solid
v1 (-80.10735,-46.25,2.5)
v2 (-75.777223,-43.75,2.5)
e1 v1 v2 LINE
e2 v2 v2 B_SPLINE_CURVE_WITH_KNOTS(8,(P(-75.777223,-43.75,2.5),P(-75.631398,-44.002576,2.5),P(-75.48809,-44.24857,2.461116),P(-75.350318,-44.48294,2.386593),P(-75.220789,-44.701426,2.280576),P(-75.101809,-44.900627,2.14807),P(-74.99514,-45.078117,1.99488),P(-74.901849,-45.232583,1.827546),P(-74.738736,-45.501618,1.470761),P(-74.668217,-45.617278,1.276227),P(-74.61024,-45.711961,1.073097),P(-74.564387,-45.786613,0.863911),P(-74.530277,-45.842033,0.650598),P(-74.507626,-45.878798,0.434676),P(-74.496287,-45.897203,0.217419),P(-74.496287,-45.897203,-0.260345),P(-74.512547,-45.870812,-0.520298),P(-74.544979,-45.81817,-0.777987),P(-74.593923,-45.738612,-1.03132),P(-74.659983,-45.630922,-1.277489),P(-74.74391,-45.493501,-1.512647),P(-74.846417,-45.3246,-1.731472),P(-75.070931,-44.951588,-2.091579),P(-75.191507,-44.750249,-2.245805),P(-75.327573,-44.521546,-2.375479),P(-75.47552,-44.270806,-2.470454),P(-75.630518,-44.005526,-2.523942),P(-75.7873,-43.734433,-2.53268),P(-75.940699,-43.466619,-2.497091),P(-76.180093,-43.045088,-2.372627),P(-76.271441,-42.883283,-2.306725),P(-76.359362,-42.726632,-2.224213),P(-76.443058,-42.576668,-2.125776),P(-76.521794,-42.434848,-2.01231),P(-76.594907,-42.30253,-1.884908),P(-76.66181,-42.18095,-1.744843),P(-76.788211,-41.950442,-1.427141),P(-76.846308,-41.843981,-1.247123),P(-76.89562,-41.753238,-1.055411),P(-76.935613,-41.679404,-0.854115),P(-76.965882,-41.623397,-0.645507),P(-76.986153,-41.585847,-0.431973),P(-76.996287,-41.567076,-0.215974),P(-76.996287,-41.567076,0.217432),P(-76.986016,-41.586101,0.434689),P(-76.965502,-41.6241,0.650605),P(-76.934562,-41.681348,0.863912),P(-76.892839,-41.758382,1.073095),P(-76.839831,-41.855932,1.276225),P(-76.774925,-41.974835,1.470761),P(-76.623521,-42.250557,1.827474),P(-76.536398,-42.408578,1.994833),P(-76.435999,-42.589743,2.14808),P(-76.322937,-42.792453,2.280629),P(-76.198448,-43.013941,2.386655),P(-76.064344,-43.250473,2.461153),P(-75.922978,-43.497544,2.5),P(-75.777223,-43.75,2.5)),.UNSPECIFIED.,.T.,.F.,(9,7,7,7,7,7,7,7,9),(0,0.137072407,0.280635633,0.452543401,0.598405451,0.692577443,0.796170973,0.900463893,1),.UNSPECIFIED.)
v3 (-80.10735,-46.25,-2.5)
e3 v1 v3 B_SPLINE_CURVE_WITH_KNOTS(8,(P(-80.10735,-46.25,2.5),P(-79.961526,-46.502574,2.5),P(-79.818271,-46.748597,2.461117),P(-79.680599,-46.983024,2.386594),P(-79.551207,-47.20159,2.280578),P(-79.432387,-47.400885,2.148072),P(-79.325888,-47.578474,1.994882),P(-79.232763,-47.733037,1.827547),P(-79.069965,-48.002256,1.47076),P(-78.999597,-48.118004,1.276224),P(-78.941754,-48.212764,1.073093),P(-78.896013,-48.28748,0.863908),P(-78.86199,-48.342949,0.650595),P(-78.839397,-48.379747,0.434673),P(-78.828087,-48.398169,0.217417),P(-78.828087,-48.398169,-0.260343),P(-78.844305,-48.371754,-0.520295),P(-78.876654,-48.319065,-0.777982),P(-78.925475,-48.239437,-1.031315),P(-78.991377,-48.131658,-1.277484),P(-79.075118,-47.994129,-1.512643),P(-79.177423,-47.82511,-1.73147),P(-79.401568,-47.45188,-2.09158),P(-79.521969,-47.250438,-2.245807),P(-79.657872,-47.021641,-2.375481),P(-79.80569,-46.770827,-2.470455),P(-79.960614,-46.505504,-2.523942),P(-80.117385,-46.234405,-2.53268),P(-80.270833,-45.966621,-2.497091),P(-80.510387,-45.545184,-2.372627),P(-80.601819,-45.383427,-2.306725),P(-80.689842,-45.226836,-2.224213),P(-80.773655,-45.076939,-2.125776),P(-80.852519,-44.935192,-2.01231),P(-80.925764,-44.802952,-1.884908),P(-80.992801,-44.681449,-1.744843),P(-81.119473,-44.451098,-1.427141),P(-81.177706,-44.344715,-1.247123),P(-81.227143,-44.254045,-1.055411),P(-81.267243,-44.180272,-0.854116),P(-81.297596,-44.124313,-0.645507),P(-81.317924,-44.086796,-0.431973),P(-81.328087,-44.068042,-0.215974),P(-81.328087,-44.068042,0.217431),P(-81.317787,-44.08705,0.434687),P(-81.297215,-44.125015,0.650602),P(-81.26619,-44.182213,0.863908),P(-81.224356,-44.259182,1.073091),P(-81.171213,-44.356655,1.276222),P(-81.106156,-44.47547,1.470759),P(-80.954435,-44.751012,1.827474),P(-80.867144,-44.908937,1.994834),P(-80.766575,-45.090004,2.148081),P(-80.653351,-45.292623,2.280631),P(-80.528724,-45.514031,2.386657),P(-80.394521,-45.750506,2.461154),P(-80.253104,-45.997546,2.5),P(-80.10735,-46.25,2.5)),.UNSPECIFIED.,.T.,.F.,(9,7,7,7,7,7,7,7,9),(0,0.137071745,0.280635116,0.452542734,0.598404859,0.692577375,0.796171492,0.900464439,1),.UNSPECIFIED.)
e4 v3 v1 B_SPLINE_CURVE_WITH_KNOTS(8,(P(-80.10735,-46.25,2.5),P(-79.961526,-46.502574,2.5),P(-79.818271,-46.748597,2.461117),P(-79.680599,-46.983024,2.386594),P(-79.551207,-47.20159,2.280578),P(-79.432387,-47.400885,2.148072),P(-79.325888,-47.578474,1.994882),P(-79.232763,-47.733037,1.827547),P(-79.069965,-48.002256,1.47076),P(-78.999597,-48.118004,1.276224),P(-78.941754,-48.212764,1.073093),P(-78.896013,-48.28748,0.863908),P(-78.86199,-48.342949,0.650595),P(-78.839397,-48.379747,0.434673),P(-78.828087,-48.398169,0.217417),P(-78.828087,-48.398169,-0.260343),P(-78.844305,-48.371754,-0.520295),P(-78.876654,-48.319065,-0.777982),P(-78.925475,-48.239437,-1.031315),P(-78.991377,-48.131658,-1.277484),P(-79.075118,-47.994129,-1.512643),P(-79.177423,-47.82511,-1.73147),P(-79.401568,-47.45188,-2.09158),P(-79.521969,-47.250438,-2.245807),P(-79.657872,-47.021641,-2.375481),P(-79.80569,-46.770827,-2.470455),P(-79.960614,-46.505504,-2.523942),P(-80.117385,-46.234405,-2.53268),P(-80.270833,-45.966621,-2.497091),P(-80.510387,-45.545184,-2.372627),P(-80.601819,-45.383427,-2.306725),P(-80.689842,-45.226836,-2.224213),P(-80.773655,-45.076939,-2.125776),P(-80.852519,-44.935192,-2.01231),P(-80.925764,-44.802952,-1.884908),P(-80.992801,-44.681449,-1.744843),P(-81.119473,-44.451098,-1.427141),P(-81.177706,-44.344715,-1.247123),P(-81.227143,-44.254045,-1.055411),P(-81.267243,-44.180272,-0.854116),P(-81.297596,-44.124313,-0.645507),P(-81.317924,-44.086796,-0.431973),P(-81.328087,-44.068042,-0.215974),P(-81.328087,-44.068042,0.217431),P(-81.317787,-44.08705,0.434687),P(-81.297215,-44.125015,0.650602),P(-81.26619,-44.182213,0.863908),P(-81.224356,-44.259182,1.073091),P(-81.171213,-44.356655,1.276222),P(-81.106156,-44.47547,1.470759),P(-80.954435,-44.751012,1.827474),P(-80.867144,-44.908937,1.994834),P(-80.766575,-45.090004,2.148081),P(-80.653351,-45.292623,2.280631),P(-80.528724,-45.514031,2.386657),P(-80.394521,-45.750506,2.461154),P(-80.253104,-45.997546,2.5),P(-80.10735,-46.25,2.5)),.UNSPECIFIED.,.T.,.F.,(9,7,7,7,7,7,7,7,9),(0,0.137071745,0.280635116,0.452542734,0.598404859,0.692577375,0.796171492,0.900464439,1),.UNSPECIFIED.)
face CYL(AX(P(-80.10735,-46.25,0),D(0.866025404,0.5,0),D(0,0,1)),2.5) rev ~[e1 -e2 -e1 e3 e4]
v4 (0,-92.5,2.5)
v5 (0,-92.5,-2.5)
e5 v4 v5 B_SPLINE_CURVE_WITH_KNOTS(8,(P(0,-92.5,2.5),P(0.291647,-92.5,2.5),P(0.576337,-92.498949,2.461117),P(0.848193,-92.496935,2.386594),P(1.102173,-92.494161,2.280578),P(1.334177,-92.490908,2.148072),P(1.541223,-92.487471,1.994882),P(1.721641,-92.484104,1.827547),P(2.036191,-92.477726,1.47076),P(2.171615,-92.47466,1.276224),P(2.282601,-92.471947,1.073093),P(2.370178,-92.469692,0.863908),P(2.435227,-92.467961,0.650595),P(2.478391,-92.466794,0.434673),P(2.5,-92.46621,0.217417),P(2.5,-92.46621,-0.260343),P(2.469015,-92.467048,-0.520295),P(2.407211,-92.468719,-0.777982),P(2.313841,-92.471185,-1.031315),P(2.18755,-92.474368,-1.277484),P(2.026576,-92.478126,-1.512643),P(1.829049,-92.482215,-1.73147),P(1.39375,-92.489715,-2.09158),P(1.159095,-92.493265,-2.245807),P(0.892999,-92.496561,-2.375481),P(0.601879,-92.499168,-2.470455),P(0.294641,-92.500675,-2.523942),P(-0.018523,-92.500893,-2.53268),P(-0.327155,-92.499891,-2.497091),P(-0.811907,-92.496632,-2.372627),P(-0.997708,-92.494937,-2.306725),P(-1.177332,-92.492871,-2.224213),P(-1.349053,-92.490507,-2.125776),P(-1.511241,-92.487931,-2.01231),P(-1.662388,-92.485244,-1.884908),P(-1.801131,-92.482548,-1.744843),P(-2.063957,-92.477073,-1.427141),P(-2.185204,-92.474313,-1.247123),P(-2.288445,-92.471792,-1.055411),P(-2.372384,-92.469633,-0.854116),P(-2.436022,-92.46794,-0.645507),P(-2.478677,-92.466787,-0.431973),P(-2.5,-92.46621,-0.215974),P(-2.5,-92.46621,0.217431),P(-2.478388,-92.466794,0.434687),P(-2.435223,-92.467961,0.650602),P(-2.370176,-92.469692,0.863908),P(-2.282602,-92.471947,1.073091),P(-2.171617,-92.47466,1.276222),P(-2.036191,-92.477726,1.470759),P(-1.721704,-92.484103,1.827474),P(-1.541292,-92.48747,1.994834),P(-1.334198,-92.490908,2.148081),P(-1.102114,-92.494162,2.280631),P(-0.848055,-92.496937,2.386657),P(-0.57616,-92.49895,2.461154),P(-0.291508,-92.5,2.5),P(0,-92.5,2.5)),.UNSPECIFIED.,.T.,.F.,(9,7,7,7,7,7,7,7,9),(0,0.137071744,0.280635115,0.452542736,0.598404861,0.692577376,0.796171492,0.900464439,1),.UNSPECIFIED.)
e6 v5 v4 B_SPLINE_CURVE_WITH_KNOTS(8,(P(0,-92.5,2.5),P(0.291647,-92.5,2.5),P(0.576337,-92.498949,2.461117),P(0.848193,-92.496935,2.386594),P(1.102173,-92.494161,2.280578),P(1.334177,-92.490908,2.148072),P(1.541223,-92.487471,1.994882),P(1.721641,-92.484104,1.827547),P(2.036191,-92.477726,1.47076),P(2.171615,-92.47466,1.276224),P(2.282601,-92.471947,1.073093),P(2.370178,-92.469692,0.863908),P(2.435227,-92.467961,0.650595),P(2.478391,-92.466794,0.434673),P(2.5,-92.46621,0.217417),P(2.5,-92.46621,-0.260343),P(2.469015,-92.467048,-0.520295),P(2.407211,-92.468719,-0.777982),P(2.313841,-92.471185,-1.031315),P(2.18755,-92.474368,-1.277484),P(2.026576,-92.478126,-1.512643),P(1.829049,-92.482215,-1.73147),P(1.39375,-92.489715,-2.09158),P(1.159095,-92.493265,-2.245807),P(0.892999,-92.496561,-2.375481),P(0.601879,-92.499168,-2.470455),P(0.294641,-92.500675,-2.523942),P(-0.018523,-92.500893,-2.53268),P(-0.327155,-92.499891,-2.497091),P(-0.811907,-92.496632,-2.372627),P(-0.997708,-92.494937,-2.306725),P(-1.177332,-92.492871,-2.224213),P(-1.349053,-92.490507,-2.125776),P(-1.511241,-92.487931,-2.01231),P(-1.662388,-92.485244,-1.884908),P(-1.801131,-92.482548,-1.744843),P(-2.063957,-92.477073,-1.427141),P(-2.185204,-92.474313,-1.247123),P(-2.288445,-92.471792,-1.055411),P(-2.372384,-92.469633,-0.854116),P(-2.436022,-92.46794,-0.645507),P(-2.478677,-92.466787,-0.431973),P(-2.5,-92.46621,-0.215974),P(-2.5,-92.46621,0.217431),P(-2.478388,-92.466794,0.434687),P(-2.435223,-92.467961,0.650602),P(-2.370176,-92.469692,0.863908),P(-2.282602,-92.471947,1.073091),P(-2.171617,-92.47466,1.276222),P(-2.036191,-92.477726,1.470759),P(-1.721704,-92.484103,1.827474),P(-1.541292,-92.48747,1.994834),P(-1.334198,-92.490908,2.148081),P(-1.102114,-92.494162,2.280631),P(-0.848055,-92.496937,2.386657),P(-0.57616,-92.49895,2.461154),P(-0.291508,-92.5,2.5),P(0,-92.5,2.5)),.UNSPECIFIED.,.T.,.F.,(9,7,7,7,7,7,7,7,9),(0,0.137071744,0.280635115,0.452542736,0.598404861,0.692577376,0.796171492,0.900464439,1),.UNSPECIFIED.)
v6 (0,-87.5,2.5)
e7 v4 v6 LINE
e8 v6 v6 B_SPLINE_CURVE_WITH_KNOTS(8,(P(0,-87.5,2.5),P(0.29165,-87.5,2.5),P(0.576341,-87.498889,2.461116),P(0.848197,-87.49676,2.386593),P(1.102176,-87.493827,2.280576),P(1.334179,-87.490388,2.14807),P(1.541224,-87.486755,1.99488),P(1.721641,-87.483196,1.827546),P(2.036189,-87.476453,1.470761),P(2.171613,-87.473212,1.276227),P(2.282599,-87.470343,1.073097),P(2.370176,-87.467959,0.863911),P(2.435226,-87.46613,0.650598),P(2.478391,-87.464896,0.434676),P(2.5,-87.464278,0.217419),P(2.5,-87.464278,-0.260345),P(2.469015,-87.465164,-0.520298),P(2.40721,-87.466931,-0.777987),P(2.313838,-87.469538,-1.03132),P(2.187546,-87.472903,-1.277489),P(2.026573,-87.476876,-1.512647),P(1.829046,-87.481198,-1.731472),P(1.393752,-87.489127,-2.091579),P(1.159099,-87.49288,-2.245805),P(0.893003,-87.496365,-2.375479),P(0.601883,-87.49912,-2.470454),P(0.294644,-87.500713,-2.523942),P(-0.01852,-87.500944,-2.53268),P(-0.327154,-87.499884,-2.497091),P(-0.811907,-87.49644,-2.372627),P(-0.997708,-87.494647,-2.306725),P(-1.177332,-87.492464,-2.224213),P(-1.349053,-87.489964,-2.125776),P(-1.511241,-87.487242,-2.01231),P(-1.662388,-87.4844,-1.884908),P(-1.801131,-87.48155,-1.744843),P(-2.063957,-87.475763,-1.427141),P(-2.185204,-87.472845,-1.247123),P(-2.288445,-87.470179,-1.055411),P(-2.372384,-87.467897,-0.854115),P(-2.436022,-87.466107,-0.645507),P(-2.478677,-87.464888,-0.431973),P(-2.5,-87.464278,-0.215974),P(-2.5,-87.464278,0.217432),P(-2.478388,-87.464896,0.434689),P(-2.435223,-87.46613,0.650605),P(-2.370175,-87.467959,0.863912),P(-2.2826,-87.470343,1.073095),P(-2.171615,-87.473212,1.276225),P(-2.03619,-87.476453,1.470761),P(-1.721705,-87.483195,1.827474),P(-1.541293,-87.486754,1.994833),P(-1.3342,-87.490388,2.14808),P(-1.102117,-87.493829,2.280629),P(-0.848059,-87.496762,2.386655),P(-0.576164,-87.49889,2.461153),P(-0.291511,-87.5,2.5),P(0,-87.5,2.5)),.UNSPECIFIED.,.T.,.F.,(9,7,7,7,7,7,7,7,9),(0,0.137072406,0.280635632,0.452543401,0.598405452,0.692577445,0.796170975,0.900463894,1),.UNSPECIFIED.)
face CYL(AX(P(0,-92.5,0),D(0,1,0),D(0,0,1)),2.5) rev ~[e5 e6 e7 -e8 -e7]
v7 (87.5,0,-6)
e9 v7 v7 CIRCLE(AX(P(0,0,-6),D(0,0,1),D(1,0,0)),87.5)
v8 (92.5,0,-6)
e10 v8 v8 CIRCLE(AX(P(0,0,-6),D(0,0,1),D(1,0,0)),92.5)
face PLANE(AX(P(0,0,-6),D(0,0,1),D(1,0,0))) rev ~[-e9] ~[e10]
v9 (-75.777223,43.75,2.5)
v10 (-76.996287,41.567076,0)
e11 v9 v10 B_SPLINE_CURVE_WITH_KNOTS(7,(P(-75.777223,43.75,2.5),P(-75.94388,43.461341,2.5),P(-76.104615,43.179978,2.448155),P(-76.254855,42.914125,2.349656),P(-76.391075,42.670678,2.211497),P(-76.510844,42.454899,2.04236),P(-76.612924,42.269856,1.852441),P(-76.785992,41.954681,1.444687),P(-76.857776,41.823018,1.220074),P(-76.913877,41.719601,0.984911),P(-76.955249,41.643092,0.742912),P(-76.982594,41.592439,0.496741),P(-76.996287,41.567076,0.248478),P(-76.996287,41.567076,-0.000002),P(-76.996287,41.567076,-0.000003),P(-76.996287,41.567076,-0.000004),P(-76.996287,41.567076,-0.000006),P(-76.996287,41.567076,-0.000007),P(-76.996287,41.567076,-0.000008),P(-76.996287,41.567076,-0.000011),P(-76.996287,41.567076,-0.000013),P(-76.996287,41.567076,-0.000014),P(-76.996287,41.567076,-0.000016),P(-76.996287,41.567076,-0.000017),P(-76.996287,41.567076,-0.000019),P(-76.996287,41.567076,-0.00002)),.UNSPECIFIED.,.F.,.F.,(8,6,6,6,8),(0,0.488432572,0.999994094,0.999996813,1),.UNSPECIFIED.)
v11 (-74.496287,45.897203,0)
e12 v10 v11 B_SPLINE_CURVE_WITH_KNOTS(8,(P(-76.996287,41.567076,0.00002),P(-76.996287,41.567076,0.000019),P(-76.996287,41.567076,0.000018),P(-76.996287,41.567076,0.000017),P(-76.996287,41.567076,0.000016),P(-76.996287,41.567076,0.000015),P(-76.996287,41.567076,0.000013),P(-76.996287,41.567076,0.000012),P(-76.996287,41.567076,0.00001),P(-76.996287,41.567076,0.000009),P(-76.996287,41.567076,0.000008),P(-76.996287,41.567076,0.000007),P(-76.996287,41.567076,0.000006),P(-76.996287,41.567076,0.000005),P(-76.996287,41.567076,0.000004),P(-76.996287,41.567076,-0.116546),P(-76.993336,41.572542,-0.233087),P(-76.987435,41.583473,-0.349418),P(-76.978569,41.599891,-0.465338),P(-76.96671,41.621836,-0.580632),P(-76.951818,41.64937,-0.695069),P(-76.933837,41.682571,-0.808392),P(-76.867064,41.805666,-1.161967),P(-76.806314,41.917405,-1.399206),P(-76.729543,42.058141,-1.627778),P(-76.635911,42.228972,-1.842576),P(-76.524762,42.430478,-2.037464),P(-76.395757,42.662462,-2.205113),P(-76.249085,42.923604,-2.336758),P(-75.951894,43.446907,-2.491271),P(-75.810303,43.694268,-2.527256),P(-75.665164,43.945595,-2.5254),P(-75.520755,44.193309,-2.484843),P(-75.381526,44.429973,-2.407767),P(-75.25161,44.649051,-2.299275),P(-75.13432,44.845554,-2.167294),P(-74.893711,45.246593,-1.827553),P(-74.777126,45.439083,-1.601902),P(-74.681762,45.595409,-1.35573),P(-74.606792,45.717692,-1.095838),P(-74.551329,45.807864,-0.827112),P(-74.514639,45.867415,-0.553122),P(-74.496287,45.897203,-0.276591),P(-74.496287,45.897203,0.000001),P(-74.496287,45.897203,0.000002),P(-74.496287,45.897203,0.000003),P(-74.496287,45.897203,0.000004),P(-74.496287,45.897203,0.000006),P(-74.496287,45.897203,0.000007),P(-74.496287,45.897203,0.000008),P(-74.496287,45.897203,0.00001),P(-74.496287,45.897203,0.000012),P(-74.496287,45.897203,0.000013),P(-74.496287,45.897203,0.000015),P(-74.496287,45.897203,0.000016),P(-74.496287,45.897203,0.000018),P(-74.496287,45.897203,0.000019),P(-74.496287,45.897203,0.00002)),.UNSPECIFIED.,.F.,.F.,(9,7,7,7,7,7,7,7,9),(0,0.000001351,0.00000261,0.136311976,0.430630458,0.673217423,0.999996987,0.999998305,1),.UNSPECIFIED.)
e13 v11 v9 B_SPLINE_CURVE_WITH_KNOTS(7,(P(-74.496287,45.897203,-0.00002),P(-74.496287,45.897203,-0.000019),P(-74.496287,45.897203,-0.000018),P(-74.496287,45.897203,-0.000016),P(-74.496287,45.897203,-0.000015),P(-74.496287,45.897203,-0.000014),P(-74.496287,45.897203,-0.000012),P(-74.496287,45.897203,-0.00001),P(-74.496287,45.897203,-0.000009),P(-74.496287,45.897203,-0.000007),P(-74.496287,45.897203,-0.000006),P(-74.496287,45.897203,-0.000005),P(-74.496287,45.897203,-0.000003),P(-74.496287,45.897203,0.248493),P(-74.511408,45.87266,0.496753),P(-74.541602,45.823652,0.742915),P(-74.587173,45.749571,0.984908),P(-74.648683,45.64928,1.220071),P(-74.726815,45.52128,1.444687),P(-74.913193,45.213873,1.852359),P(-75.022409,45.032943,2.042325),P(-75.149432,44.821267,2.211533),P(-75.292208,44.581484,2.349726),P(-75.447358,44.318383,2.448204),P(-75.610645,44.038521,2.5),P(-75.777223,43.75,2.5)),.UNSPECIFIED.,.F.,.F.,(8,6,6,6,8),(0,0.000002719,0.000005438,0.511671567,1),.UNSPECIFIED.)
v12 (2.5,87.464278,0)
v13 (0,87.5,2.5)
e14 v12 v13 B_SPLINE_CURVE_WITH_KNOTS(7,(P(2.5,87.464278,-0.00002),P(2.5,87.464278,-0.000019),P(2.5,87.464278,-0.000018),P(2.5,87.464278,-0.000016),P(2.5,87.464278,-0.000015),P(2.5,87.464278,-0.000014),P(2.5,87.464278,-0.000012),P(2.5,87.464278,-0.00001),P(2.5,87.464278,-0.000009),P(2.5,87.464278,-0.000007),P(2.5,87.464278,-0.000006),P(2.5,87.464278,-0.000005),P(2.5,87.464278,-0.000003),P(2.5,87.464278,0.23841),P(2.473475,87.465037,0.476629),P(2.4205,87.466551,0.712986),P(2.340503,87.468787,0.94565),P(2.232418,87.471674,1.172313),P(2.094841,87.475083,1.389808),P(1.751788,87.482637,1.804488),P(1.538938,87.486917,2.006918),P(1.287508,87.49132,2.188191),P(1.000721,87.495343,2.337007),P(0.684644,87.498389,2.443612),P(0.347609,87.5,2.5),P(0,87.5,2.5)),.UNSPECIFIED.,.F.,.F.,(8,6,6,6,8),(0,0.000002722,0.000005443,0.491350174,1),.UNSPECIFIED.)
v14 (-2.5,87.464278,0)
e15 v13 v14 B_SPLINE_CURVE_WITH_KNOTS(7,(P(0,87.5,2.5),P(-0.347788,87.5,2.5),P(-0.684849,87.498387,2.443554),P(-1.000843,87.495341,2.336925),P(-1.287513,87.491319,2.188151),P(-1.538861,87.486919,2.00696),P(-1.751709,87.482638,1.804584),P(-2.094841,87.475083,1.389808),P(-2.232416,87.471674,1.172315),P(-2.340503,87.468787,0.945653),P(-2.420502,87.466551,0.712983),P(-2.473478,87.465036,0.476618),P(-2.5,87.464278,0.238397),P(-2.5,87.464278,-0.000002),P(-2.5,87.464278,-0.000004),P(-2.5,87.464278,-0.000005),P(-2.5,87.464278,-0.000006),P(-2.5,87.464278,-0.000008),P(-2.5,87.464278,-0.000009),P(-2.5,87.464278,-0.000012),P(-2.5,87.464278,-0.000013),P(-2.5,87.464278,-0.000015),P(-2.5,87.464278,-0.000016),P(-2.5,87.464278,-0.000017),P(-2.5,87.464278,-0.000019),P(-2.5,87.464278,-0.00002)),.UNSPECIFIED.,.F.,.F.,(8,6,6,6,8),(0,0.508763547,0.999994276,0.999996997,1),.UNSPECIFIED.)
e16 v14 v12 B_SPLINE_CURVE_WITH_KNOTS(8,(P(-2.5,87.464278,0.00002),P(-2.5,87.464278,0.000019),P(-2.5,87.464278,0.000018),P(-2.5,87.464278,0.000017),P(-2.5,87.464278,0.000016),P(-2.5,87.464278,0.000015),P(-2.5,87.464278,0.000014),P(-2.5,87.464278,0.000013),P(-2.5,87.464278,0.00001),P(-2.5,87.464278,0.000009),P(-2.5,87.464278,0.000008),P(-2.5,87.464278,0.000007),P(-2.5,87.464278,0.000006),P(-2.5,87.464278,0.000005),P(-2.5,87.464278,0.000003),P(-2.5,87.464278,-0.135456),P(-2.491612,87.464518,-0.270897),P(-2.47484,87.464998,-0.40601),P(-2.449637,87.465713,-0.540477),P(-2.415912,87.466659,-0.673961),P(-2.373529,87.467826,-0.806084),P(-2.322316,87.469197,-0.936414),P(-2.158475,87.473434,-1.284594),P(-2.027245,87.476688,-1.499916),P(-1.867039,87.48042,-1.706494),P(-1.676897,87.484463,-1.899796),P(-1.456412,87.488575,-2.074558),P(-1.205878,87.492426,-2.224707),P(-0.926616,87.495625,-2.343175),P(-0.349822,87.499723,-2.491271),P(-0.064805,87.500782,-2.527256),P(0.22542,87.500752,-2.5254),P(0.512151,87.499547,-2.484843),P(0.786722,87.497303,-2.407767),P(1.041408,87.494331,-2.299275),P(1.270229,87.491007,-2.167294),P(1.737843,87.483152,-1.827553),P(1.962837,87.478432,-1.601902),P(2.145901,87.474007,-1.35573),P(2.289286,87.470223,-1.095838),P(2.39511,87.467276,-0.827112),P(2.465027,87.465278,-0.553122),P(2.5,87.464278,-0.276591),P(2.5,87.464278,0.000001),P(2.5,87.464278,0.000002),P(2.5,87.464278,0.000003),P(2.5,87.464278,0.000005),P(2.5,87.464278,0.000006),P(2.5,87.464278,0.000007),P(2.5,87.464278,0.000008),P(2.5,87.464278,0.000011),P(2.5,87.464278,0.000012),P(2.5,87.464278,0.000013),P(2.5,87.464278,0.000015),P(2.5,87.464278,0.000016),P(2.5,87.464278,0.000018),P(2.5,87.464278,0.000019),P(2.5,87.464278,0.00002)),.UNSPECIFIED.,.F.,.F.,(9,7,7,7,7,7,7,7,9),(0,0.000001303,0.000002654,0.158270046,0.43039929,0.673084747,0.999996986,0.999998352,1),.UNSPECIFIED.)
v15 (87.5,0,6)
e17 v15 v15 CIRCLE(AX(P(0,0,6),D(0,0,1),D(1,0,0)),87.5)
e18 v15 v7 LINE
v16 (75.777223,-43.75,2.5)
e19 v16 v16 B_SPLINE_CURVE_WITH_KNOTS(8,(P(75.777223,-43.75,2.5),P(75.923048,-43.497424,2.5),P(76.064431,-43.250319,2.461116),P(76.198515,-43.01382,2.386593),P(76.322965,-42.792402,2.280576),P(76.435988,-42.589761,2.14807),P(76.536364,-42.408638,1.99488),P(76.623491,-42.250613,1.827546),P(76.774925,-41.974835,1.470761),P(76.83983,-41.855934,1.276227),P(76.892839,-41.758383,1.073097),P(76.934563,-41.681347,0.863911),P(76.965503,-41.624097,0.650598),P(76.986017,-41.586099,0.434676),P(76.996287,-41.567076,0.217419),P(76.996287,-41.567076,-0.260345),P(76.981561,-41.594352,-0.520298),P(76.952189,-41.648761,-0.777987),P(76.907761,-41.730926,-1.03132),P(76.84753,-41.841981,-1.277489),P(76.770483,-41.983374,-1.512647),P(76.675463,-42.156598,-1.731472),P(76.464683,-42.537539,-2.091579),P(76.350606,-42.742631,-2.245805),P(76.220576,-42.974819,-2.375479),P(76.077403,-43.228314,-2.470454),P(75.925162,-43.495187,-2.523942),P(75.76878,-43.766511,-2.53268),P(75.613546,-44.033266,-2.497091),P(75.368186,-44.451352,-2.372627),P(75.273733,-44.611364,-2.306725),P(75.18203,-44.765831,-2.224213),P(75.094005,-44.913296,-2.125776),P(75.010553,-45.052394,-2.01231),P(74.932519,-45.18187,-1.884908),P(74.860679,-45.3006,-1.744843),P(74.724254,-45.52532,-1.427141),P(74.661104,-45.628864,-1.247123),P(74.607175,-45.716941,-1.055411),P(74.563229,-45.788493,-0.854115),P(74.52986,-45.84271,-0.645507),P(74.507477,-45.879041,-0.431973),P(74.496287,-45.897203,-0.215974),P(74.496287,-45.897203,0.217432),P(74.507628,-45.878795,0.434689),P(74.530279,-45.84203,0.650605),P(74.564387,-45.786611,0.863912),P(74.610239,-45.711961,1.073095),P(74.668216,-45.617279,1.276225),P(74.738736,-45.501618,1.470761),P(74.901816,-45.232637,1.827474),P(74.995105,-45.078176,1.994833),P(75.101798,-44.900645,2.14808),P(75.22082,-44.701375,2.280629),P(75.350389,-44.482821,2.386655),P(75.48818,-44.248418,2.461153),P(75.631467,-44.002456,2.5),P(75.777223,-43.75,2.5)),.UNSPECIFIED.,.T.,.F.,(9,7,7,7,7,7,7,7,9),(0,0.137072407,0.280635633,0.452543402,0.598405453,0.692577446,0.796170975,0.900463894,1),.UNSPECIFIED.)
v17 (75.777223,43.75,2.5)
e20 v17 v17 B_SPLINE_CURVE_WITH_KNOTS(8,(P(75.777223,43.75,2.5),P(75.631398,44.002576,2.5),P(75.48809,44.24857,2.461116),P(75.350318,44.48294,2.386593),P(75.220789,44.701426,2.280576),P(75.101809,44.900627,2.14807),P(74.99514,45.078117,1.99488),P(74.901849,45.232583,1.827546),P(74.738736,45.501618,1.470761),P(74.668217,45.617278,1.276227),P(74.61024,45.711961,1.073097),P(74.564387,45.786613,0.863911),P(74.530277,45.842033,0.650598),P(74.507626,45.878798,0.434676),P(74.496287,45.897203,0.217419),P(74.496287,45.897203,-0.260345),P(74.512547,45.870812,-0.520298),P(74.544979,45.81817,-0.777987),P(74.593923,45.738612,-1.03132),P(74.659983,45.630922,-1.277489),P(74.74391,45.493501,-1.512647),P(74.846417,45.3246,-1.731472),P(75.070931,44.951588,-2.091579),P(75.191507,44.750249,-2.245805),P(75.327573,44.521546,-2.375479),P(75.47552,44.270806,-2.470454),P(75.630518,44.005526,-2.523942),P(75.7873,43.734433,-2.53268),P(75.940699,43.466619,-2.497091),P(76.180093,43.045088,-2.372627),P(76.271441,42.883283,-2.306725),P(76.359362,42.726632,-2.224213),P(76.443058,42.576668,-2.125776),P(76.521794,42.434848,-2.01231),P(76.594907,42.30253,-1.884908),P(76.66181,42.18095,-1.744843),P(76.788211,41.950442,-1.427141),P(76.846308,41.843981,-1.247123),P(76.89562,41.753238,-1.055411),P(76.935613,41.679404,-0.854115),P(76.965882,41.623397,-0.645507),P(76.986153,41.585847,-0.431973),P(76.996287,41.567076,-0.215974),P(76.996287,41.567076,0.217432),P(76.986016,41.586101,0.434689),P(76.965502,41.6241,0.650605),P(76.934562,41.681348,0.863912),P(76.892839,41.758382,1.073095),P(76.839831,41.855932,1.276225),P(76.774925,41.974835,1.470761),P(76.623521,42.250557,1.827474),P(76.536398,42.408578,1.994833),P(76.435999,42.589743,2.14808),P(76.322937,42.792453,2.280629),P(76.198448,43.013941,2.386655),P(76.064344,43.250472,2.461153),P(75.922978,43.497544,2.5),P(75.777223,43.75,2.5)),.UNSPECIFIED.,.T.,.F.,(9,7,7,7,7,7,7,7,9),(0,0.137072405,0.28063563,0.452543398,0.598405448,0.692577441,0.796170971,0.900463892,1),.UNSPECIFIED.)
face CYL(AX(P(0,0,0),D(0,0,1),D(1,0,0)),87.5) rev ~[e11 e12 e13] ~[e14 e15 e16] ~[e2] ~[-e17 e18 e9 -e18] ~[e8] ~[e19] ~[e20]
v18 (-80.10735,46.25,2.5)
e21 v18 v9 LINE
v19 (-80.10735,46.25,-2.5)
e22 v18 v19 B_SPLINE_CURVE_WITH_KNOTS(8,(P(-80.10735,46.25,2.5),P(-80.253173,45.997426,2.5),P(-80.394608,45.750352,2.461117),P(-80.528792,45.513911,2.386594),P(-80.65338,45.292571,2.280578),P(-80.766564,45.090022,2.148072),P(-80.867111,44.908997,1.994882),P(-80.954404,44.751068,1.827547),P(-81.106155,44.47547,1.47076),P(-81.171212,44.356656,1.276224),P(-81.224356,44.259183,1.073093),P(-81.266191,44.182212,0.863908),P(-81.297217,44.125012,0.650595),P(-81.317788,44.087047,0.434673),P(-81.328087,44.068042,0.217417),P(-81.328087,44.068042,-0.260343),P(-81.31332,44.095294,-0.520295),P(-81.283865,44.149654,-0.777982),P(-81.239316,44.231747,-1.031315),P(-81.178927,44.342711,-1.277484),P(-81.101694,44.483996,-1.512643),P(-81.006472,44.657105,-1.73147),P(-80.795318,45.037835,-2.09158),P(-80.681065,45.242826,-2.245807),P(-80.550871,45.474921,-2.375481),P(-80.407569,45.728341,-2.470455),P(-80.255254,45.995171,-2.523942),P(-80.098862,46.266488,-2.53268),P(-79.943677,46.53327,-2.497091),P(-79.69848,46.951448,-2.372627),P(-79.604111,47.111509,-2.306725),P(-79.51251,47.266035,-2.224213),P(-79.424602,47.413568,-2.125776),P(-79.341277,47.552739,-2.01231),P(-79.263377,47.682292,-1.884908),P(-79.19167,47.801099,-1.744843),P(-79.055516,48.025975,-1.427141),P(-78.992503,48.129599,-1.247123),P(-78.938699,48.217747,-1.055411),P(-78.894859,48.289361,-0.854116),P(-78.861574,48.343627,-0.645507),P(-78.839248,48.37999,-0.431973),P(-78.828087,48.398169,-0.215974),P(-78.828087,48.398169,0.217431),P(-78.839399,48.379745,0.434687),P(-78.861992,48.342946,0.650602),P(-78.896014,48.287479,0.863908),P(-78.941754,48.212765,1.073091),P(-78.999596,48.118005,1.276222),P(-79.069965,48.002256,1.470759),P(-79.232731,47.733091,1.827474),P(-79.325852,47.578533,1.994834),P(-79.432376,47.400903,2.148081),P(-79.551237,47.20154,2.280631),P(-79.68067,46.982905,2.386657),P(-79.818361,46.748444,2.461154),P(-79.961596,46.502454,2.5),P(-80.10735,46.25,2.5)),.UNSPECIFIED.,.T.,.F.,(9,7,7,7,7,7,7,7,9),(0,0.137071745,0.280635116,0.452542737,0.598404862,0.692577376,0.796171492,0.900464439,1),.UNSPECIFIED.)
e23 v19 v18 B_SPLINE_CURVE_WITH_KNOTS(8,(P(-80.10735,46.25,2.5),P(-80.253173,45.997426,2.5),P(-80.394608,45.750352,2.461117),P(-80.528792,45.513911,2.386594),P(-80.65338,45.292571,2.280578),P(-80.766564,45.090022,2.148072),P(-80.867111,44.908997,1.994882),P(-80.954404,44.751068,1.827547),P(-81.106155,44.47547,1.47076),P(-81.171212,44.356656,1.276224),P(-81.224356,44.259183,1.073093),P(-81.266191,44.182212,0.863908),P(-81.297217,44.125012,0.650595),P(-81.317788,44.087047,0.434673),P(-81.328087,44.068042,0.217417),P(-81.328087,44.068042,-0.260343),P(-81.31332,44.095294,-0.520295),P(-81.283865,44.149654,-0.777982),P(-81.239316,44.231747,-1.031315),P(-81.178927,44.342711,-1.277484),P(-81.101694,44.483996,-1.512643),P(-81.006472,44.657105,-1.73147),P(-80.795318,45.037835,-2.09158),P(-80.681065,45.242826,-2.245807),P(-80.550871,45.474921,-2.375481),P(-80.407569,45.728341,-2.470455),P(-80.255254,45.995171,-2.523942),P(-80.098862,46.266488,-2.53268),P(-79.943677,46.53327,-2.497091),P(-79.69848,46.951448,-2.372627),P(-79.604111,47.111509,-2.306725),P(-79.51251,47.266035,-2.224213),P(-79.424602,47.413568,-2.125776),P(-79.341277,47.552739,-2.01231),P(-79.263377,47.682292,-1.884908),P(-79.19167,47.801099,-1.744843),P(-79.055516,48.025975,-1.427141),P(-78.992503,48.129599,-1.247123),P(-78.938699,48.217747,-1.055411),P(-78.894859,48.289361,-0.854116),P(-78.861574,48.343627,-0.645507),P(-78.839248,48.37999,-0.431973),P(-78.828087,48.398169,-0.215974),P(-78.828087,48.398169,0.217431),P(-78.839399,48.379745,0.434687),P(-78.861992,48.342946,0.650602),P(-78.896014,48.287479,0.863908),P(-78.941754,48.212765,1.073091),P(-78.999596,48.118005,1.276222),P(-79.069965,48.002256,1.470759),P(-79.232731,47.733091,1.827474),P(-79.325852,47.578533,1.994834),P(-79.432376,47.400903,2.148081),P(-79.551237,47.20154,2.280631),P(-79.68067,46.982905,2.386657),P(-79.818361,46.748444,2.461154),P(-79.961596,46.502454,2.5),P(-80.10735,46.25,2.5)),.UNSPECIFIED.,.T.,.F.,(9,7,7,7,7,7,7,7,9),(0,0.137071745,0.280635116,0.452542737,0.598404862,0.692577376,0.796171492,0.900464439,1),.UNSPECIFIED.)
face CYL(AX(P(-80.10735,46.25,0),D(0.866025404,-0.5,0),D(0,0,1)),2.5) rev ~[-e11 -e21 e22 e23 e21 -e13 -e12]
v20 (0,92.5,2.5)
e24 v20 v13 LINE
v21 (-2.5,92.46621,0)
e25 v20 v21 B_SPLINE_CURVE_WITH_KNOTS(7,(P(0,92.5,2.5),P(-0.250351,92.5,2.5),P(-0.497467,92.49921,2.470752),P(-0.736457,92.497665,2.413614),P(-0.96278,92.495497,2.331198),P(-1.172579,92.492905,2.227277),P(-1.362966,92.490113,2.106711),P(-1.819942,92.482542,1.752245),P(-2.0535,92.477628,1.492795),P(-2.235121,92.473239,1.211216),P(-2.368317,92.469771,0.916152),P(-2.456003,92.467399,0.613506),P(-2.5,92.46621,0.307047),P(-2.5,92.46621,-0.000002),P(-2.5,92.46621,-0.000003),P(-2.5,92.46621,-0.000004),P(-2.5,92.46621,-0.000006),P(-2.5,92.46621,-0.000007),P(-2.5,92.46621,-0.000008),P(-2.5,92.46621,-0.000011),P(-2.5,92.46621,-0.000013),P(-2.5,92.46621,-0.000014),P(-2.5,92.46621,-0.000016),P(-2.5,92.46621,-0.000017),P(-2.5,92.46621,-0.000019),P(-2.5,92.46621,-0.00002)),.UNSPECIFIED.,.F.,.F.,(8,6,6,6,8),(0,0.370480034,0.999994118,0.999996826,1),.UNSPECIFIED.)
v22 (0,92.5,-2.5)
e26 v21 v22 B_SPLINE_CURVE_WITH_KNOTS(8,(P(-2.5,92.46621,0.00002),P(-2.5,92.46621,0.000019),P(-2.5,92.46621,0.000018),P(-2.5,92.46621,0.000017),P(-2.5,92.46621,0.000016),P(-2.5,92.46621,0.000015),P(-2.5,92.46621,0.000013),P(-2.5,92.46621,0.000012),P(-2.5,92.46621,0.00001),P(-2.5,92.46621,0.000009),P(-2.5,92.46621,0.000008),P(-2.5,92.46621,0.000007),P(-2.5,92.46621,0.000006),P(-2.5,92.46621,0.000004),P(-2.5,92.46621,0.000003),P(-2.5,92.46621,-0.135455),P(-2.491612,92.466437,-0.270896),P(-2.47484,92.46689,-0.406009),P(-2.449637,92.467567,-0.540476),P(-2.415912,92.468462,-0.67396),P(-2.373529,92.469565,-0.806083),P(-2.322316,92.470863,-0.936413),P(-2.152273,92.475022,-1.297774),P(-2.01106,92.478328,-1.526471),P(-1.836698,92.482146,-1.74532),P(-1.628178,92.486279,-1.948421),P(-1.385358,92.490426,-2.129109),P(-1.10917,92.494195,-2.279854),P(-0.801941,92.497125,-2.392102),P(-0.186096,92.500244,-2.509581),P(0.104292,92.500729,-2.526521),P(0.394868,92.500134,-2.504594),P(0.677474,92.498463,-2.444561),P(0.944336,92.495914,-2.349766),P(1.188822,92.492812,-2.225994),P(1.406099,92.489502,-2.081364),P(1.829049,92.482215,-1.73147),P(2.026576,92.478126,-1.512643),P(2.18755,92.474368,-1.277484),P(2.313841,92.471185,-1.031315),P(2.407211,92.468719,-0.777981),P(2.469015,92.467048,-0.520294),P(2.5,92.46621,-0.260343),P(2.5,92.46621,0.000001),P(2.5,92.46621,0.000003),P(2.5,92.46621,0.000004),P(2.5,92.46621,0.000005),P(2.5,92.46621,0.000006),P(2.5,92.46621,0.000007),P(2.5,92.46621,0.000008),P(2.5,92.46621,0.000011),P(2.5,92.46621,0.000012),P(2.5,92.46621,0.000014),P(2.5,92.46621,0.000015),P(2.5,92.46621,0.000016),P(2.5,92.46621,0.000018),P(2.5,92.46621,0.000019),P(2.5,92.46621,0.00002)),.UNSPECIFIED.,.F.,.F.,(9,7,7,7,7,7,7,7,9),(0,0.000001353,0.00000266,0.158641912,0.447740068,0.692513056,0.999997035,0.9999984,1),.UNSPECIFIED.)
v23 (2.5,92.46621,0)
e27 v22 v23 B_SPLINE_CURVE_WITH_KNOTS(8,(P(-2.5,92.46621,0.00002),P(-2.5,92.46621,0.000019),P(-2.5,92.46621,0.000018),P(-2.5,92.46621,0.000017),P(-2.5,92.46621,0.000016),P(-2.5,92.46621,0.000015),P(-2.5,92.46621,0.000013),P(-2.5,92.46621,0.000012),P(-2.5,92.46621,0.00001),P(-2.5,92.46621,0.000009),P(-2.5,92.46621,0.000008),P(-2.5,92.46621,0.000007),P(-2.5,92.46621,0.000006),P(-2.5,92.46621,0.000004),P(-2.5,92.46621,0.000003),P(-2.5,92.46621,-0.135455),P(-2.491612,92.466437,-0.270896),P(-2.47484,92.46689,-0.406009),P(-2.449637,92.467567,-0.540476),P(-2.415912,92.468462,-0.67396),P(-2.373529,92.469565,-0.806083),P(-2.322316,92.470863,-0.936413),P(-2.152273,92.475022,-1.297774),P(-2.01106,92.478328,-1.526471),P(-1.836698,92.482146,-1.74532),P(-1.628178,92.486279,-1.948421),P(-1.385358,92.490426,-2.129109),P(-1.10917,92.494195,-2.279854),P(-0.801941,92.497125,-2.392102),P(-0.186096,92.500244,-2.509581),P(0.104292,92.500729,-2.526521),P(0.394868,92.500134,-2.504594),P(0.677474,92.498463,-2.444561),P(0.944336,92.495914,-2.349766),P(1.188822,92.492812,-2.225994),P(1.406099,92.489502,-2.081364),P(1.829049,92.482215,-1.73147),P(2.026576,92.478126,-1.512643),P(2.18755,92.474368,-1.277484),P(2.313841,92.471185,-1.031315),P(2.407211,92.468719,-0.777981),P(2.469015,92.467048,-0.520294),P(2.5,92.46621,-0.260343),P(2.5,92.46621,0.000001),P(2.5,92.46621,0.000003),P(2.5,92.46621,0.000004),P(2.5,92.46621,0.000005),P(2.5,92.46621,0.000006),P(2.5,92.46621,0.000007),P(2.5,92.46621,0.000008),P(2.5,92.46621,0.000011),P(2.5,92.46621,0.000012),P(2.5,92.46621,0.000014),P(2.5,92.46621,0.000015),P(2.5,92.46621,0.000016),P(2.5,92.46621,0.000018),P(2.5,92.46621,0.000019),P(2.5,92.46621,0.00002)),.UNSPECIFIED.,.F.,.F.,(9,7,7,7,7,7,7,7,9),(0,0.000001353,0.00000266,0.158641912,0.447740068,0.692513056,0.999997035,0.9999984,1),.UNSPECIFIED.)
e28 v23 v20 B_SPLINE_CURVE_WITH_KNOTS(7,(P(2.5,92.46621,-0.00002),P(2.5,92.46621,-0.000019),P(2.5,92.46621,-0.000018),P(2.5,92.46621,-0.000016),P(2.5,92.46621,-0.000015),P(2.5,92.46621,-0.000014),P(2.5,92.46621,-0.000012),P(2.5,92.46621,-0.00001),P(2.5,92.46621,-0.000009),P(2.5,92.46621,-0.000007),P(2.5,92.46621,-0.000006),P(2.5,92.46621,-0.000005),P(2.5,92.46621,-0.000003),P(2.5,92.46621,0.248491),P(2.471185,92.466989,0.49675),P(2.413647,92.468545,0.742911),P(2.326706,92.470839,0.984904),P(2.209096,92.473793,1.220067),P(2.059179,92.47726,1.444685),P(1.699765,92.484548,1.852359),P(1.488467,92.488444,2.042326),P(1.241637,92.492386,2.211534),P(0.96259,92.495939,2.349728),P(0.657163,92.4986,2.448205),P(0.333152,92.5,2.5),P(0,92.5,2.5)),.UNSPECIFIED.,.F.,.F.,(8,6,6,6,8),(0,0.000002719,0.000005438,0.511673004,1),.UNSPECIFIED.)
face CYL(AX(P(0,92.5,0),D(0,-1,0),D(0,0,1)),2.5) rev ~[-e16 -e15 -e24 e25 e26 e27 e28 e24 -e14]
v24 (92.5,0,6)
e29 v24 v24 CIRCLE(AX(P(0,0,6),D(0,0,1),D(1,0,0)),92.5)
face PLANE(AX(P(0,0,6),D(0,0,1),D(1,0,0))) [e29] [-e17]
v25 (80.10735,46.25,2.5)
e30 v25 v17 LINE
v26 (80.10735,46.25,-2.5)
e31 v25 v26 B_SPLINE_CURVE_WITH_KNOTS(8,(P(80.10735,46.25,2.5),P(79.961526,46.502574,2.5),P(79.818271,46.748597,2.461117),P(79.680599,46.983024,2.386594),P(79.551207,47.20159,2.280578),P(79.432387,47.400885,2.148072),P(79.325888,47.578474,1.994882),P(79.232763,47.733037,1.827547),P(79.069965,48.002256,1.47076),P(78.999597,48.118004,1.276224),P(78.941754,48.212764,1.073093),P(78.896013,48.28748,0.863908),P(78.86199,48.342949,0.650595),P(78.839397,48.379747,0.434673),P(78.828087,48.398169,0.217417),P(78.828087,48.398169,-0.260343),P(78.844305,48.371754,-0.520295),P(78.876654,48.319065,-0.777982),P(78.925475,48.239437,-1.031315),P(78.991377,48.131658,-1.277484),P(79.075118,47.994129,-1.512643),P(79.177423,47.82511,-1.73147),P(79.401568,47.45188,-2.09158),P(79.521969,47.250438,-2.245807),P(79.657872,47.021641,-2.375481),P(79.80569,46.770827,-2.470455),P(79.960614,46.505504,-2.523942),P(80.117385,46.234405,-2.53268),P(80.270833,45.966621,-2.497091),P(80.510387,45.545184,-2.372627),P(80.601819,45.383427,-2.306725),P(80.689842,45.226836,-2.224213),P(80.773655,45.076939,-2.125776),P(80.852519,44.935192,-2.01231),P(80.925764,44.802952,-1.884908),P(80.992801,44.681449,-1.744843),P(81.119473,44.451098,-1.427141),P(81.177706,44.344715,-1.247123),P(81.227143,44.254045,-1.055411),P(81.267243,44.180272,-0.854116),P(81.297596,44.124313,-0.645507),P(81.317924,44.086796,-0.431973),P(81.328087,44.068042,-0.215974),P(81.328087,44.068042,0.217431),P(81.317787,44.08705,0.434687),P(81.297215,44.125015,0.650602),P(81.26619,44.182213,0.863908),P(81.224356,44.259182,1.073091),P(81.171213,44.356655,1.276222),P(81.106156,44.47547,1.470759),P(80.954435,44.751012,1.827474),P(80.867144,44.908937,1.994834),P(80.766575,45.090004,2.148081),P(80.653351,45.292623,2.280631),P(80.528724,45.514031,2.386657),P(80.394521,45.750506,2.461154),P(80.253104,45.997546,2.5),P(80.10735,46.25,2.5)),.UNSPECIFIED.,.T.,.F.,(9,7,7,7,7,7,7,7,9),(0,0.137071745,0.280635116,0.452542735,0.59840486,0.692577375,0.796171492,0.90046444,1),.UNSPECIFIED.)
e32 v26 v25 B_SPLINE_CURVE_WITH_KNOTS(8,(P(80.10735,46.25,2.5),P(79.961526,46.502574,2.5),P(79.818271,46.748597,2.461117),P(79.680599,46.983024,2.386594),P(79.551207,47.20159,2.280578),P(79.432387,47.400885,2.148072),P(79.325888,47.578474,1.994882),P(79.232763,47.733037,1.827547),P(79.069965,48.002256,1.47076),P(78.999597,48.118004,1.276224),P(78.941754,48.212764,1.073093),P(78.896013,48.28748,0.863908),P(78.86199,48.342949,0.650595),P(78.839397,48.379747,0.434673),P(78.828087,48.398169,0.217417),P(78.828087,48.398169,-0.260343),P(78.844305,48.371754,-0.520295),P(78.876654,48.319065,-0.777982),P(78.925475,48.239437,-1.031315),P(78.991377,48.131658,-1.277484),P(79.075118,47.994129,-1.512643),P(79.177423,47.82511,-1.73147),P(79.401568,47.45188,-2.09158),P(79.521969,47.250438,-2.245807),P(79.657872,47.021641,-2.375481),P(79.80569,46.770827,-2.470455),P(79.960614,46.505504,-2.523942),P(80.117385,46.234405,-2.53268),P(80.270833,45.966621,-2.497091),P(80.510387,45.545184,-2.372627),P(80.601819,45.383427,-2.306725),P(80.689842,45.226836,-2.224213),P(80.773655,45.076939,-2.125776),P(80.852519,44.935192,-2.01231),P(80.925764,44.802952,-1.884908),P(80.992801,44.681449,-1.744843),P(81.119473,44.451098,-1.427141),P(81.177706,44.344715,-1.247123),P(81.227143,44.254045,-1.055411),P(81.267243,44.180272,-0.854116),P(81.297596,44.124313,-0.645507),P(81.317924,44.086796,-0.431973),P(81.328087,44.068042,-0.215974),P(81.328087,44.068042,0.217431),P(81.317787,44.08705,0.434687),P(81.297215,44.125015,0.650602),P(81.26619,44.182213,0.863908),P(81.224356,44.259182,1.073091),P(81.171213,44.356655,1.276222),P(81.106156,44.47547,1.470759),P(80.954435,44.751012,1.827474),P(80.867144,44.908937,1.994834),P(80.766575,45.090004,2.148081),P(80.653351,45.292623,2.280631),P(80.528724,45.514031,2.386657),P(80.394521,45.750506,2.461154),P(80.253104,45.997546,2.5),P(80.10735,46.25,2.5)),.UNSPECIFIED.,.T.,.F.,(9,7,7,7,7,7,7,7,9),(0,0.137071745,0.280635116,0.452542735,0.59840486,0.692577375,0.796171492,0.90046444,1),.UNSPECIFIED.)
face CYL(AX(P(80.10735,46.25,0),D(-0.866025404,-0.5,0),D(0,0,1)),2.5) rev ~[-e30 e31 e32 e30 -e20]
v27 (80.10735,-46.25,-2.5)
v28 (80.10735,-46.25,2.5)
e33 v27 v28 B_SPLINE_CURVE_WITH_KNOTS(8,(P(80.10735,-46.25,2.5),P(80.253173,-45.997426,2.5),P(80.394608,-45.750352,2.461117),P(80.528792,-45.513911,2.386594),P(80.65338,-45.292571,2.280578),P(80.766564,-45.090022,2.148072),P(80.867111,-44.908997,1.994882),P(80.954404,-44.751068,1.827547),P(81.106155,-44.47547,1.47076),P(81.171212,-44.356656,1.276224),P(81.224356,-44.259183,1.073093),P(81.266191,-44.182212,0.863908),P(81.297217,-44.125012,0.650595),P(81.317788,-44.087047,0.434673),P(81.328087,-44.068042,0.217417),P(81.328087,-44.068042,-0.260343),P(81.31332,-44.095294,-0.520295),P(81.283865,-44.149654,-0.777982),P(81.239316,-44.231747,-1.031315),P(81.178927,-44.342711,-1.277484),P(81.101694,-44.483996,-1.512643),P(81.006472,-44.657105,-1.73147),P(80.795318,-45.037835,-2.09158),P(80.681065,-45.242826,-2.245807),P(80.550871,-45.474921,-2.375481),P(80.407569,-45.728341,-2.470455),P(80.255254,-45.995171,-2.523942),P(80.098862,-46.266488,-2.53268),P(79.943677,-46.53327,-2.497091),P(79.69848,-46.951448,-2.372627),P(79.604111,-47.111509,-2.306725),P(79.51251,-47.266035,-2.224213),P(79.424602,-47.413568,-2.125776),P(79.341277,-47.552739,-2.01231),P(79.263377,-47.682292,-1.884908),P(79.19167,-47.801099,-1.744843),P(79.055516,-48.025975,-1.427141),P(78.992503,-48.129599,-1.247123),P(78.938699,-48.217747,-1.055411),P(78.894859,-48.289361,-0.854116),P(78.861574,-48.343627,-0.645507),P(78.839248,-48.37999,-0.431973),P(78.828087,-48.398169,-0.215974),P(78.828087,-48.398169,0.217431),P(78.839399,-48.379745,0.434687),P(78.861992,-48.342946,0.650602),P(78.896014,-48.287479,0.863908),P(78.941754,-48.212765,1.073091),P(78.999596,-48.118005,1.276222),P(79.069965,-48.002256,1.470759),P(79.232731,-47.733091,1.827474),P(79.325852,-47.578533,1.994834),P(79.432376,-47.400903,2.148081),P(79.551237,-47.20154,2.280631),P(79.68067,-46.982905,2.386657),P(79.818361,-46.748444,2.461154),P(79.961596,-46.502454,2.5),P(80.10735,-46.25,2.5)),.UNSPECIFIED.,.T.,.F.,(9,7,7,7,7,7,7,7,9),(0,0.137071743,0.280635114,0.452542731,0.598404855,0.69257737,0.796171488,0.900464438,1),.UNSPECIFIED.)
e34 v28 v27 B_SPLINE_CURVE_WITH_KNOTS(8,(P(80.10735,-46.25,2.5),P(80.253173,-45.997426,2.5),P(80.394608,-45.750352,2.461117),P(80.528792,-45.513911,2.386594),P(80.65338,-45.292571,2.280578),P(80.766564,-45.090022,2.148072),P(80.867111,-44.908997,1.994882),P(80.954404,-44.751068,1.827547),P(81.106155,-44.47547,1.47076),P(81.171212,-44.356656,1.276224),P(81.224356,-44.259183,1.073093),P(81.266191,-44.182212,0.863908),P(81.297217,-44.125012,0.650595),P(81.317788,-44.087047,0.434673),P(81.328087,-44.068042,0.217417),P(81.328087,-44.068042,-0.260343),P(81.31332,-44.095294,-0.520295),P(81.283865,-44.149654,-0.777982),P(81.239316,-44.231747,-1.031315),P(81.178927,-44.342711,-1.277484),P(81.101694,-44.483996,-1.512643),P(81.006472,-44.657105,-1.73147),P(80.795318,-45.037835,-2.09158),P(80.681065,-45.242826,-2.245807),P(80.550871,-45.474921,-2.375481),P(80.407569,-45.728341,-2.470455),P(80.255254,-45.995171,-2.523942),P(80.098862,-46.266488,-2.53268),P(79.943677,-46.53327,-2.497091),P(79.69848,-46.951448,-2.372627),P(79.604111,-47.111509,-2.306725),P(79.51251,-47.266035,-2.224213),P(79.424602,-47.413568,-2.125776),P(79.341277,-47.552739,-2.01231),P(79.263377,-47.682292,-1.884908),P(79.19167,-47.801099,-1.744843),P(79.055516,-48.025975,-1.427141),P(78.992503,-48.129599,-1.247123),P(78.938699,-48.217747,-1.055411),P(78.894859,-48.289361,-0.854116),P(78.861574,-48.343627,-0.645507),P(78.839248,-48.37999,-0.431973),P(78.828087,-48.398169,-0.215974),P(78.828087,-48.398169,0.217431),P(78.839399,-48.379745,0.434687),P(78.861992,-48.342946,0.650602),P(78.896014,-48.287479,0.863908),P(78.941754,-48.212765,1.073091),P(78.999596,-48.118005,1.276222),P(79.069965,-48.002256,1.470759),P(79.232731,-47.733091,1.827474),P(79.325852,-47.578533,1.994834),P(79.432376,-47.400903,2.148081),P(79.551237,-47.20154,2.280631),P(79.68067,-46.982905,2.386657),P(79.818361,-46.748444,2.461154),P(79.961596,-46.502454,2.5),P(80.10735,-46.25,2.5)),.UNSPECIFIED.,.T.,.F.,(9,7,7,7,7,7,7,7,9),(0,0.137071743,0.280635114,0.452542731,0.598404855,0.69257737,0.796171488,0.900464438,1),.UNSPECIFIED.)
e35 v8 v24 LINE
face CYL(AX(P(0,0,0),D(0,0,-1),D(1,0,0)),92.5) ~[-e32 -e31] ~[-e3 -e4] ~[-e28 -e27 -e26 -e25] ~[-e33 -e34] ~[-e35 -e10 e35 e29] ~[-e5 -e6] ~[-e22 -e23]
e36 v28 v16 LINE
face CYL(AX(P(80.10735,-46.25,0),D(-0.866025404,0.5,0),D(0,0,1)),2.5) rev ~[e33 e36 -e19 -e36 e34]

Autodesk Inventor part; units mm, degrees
ref_plane "YZ Plane" through (0, 0, 0) normal (1, 0, 0) x (0, 1, 0)
ref_plane "XY Plane" through (0, 0, 0) normal (0, 0, 1) x (1, 0, 0)
sketch "Sketch1" plane through (0, 0, 0) normal (0, 0, 1) x (1, 0, 0)
  circle A0 centre (0, 0) radius 92.5
  circle A1 centre (0, 0) radius 87.5
  dimension "d0" = 185
  dimension "d1" = 175
extrude "Extrusion1" add sketch "Sketch1" along normal mid plane 12
ref_plane "Work Plane1" through (0, 92.5, 0) normal (0, 1, 0) x (-1, 0, 0)
sketch "Sketch2" plane through (0, 92.5, 0) normal (0, 1, 0) x (-1, 0, 0)
  point P0 (0, 0)
  point P1 (0, 0)
hole "Hole1" at (0, 92.5, 0) direction (0, -1, 0) diameter 5 depth 6
pattern_circular "Circular Pattern1" count 6 over 360 about axis through (0, 0, 0) along (0, 0, 1) of "Hole1"
properties part number "22.3" material "Lead"
